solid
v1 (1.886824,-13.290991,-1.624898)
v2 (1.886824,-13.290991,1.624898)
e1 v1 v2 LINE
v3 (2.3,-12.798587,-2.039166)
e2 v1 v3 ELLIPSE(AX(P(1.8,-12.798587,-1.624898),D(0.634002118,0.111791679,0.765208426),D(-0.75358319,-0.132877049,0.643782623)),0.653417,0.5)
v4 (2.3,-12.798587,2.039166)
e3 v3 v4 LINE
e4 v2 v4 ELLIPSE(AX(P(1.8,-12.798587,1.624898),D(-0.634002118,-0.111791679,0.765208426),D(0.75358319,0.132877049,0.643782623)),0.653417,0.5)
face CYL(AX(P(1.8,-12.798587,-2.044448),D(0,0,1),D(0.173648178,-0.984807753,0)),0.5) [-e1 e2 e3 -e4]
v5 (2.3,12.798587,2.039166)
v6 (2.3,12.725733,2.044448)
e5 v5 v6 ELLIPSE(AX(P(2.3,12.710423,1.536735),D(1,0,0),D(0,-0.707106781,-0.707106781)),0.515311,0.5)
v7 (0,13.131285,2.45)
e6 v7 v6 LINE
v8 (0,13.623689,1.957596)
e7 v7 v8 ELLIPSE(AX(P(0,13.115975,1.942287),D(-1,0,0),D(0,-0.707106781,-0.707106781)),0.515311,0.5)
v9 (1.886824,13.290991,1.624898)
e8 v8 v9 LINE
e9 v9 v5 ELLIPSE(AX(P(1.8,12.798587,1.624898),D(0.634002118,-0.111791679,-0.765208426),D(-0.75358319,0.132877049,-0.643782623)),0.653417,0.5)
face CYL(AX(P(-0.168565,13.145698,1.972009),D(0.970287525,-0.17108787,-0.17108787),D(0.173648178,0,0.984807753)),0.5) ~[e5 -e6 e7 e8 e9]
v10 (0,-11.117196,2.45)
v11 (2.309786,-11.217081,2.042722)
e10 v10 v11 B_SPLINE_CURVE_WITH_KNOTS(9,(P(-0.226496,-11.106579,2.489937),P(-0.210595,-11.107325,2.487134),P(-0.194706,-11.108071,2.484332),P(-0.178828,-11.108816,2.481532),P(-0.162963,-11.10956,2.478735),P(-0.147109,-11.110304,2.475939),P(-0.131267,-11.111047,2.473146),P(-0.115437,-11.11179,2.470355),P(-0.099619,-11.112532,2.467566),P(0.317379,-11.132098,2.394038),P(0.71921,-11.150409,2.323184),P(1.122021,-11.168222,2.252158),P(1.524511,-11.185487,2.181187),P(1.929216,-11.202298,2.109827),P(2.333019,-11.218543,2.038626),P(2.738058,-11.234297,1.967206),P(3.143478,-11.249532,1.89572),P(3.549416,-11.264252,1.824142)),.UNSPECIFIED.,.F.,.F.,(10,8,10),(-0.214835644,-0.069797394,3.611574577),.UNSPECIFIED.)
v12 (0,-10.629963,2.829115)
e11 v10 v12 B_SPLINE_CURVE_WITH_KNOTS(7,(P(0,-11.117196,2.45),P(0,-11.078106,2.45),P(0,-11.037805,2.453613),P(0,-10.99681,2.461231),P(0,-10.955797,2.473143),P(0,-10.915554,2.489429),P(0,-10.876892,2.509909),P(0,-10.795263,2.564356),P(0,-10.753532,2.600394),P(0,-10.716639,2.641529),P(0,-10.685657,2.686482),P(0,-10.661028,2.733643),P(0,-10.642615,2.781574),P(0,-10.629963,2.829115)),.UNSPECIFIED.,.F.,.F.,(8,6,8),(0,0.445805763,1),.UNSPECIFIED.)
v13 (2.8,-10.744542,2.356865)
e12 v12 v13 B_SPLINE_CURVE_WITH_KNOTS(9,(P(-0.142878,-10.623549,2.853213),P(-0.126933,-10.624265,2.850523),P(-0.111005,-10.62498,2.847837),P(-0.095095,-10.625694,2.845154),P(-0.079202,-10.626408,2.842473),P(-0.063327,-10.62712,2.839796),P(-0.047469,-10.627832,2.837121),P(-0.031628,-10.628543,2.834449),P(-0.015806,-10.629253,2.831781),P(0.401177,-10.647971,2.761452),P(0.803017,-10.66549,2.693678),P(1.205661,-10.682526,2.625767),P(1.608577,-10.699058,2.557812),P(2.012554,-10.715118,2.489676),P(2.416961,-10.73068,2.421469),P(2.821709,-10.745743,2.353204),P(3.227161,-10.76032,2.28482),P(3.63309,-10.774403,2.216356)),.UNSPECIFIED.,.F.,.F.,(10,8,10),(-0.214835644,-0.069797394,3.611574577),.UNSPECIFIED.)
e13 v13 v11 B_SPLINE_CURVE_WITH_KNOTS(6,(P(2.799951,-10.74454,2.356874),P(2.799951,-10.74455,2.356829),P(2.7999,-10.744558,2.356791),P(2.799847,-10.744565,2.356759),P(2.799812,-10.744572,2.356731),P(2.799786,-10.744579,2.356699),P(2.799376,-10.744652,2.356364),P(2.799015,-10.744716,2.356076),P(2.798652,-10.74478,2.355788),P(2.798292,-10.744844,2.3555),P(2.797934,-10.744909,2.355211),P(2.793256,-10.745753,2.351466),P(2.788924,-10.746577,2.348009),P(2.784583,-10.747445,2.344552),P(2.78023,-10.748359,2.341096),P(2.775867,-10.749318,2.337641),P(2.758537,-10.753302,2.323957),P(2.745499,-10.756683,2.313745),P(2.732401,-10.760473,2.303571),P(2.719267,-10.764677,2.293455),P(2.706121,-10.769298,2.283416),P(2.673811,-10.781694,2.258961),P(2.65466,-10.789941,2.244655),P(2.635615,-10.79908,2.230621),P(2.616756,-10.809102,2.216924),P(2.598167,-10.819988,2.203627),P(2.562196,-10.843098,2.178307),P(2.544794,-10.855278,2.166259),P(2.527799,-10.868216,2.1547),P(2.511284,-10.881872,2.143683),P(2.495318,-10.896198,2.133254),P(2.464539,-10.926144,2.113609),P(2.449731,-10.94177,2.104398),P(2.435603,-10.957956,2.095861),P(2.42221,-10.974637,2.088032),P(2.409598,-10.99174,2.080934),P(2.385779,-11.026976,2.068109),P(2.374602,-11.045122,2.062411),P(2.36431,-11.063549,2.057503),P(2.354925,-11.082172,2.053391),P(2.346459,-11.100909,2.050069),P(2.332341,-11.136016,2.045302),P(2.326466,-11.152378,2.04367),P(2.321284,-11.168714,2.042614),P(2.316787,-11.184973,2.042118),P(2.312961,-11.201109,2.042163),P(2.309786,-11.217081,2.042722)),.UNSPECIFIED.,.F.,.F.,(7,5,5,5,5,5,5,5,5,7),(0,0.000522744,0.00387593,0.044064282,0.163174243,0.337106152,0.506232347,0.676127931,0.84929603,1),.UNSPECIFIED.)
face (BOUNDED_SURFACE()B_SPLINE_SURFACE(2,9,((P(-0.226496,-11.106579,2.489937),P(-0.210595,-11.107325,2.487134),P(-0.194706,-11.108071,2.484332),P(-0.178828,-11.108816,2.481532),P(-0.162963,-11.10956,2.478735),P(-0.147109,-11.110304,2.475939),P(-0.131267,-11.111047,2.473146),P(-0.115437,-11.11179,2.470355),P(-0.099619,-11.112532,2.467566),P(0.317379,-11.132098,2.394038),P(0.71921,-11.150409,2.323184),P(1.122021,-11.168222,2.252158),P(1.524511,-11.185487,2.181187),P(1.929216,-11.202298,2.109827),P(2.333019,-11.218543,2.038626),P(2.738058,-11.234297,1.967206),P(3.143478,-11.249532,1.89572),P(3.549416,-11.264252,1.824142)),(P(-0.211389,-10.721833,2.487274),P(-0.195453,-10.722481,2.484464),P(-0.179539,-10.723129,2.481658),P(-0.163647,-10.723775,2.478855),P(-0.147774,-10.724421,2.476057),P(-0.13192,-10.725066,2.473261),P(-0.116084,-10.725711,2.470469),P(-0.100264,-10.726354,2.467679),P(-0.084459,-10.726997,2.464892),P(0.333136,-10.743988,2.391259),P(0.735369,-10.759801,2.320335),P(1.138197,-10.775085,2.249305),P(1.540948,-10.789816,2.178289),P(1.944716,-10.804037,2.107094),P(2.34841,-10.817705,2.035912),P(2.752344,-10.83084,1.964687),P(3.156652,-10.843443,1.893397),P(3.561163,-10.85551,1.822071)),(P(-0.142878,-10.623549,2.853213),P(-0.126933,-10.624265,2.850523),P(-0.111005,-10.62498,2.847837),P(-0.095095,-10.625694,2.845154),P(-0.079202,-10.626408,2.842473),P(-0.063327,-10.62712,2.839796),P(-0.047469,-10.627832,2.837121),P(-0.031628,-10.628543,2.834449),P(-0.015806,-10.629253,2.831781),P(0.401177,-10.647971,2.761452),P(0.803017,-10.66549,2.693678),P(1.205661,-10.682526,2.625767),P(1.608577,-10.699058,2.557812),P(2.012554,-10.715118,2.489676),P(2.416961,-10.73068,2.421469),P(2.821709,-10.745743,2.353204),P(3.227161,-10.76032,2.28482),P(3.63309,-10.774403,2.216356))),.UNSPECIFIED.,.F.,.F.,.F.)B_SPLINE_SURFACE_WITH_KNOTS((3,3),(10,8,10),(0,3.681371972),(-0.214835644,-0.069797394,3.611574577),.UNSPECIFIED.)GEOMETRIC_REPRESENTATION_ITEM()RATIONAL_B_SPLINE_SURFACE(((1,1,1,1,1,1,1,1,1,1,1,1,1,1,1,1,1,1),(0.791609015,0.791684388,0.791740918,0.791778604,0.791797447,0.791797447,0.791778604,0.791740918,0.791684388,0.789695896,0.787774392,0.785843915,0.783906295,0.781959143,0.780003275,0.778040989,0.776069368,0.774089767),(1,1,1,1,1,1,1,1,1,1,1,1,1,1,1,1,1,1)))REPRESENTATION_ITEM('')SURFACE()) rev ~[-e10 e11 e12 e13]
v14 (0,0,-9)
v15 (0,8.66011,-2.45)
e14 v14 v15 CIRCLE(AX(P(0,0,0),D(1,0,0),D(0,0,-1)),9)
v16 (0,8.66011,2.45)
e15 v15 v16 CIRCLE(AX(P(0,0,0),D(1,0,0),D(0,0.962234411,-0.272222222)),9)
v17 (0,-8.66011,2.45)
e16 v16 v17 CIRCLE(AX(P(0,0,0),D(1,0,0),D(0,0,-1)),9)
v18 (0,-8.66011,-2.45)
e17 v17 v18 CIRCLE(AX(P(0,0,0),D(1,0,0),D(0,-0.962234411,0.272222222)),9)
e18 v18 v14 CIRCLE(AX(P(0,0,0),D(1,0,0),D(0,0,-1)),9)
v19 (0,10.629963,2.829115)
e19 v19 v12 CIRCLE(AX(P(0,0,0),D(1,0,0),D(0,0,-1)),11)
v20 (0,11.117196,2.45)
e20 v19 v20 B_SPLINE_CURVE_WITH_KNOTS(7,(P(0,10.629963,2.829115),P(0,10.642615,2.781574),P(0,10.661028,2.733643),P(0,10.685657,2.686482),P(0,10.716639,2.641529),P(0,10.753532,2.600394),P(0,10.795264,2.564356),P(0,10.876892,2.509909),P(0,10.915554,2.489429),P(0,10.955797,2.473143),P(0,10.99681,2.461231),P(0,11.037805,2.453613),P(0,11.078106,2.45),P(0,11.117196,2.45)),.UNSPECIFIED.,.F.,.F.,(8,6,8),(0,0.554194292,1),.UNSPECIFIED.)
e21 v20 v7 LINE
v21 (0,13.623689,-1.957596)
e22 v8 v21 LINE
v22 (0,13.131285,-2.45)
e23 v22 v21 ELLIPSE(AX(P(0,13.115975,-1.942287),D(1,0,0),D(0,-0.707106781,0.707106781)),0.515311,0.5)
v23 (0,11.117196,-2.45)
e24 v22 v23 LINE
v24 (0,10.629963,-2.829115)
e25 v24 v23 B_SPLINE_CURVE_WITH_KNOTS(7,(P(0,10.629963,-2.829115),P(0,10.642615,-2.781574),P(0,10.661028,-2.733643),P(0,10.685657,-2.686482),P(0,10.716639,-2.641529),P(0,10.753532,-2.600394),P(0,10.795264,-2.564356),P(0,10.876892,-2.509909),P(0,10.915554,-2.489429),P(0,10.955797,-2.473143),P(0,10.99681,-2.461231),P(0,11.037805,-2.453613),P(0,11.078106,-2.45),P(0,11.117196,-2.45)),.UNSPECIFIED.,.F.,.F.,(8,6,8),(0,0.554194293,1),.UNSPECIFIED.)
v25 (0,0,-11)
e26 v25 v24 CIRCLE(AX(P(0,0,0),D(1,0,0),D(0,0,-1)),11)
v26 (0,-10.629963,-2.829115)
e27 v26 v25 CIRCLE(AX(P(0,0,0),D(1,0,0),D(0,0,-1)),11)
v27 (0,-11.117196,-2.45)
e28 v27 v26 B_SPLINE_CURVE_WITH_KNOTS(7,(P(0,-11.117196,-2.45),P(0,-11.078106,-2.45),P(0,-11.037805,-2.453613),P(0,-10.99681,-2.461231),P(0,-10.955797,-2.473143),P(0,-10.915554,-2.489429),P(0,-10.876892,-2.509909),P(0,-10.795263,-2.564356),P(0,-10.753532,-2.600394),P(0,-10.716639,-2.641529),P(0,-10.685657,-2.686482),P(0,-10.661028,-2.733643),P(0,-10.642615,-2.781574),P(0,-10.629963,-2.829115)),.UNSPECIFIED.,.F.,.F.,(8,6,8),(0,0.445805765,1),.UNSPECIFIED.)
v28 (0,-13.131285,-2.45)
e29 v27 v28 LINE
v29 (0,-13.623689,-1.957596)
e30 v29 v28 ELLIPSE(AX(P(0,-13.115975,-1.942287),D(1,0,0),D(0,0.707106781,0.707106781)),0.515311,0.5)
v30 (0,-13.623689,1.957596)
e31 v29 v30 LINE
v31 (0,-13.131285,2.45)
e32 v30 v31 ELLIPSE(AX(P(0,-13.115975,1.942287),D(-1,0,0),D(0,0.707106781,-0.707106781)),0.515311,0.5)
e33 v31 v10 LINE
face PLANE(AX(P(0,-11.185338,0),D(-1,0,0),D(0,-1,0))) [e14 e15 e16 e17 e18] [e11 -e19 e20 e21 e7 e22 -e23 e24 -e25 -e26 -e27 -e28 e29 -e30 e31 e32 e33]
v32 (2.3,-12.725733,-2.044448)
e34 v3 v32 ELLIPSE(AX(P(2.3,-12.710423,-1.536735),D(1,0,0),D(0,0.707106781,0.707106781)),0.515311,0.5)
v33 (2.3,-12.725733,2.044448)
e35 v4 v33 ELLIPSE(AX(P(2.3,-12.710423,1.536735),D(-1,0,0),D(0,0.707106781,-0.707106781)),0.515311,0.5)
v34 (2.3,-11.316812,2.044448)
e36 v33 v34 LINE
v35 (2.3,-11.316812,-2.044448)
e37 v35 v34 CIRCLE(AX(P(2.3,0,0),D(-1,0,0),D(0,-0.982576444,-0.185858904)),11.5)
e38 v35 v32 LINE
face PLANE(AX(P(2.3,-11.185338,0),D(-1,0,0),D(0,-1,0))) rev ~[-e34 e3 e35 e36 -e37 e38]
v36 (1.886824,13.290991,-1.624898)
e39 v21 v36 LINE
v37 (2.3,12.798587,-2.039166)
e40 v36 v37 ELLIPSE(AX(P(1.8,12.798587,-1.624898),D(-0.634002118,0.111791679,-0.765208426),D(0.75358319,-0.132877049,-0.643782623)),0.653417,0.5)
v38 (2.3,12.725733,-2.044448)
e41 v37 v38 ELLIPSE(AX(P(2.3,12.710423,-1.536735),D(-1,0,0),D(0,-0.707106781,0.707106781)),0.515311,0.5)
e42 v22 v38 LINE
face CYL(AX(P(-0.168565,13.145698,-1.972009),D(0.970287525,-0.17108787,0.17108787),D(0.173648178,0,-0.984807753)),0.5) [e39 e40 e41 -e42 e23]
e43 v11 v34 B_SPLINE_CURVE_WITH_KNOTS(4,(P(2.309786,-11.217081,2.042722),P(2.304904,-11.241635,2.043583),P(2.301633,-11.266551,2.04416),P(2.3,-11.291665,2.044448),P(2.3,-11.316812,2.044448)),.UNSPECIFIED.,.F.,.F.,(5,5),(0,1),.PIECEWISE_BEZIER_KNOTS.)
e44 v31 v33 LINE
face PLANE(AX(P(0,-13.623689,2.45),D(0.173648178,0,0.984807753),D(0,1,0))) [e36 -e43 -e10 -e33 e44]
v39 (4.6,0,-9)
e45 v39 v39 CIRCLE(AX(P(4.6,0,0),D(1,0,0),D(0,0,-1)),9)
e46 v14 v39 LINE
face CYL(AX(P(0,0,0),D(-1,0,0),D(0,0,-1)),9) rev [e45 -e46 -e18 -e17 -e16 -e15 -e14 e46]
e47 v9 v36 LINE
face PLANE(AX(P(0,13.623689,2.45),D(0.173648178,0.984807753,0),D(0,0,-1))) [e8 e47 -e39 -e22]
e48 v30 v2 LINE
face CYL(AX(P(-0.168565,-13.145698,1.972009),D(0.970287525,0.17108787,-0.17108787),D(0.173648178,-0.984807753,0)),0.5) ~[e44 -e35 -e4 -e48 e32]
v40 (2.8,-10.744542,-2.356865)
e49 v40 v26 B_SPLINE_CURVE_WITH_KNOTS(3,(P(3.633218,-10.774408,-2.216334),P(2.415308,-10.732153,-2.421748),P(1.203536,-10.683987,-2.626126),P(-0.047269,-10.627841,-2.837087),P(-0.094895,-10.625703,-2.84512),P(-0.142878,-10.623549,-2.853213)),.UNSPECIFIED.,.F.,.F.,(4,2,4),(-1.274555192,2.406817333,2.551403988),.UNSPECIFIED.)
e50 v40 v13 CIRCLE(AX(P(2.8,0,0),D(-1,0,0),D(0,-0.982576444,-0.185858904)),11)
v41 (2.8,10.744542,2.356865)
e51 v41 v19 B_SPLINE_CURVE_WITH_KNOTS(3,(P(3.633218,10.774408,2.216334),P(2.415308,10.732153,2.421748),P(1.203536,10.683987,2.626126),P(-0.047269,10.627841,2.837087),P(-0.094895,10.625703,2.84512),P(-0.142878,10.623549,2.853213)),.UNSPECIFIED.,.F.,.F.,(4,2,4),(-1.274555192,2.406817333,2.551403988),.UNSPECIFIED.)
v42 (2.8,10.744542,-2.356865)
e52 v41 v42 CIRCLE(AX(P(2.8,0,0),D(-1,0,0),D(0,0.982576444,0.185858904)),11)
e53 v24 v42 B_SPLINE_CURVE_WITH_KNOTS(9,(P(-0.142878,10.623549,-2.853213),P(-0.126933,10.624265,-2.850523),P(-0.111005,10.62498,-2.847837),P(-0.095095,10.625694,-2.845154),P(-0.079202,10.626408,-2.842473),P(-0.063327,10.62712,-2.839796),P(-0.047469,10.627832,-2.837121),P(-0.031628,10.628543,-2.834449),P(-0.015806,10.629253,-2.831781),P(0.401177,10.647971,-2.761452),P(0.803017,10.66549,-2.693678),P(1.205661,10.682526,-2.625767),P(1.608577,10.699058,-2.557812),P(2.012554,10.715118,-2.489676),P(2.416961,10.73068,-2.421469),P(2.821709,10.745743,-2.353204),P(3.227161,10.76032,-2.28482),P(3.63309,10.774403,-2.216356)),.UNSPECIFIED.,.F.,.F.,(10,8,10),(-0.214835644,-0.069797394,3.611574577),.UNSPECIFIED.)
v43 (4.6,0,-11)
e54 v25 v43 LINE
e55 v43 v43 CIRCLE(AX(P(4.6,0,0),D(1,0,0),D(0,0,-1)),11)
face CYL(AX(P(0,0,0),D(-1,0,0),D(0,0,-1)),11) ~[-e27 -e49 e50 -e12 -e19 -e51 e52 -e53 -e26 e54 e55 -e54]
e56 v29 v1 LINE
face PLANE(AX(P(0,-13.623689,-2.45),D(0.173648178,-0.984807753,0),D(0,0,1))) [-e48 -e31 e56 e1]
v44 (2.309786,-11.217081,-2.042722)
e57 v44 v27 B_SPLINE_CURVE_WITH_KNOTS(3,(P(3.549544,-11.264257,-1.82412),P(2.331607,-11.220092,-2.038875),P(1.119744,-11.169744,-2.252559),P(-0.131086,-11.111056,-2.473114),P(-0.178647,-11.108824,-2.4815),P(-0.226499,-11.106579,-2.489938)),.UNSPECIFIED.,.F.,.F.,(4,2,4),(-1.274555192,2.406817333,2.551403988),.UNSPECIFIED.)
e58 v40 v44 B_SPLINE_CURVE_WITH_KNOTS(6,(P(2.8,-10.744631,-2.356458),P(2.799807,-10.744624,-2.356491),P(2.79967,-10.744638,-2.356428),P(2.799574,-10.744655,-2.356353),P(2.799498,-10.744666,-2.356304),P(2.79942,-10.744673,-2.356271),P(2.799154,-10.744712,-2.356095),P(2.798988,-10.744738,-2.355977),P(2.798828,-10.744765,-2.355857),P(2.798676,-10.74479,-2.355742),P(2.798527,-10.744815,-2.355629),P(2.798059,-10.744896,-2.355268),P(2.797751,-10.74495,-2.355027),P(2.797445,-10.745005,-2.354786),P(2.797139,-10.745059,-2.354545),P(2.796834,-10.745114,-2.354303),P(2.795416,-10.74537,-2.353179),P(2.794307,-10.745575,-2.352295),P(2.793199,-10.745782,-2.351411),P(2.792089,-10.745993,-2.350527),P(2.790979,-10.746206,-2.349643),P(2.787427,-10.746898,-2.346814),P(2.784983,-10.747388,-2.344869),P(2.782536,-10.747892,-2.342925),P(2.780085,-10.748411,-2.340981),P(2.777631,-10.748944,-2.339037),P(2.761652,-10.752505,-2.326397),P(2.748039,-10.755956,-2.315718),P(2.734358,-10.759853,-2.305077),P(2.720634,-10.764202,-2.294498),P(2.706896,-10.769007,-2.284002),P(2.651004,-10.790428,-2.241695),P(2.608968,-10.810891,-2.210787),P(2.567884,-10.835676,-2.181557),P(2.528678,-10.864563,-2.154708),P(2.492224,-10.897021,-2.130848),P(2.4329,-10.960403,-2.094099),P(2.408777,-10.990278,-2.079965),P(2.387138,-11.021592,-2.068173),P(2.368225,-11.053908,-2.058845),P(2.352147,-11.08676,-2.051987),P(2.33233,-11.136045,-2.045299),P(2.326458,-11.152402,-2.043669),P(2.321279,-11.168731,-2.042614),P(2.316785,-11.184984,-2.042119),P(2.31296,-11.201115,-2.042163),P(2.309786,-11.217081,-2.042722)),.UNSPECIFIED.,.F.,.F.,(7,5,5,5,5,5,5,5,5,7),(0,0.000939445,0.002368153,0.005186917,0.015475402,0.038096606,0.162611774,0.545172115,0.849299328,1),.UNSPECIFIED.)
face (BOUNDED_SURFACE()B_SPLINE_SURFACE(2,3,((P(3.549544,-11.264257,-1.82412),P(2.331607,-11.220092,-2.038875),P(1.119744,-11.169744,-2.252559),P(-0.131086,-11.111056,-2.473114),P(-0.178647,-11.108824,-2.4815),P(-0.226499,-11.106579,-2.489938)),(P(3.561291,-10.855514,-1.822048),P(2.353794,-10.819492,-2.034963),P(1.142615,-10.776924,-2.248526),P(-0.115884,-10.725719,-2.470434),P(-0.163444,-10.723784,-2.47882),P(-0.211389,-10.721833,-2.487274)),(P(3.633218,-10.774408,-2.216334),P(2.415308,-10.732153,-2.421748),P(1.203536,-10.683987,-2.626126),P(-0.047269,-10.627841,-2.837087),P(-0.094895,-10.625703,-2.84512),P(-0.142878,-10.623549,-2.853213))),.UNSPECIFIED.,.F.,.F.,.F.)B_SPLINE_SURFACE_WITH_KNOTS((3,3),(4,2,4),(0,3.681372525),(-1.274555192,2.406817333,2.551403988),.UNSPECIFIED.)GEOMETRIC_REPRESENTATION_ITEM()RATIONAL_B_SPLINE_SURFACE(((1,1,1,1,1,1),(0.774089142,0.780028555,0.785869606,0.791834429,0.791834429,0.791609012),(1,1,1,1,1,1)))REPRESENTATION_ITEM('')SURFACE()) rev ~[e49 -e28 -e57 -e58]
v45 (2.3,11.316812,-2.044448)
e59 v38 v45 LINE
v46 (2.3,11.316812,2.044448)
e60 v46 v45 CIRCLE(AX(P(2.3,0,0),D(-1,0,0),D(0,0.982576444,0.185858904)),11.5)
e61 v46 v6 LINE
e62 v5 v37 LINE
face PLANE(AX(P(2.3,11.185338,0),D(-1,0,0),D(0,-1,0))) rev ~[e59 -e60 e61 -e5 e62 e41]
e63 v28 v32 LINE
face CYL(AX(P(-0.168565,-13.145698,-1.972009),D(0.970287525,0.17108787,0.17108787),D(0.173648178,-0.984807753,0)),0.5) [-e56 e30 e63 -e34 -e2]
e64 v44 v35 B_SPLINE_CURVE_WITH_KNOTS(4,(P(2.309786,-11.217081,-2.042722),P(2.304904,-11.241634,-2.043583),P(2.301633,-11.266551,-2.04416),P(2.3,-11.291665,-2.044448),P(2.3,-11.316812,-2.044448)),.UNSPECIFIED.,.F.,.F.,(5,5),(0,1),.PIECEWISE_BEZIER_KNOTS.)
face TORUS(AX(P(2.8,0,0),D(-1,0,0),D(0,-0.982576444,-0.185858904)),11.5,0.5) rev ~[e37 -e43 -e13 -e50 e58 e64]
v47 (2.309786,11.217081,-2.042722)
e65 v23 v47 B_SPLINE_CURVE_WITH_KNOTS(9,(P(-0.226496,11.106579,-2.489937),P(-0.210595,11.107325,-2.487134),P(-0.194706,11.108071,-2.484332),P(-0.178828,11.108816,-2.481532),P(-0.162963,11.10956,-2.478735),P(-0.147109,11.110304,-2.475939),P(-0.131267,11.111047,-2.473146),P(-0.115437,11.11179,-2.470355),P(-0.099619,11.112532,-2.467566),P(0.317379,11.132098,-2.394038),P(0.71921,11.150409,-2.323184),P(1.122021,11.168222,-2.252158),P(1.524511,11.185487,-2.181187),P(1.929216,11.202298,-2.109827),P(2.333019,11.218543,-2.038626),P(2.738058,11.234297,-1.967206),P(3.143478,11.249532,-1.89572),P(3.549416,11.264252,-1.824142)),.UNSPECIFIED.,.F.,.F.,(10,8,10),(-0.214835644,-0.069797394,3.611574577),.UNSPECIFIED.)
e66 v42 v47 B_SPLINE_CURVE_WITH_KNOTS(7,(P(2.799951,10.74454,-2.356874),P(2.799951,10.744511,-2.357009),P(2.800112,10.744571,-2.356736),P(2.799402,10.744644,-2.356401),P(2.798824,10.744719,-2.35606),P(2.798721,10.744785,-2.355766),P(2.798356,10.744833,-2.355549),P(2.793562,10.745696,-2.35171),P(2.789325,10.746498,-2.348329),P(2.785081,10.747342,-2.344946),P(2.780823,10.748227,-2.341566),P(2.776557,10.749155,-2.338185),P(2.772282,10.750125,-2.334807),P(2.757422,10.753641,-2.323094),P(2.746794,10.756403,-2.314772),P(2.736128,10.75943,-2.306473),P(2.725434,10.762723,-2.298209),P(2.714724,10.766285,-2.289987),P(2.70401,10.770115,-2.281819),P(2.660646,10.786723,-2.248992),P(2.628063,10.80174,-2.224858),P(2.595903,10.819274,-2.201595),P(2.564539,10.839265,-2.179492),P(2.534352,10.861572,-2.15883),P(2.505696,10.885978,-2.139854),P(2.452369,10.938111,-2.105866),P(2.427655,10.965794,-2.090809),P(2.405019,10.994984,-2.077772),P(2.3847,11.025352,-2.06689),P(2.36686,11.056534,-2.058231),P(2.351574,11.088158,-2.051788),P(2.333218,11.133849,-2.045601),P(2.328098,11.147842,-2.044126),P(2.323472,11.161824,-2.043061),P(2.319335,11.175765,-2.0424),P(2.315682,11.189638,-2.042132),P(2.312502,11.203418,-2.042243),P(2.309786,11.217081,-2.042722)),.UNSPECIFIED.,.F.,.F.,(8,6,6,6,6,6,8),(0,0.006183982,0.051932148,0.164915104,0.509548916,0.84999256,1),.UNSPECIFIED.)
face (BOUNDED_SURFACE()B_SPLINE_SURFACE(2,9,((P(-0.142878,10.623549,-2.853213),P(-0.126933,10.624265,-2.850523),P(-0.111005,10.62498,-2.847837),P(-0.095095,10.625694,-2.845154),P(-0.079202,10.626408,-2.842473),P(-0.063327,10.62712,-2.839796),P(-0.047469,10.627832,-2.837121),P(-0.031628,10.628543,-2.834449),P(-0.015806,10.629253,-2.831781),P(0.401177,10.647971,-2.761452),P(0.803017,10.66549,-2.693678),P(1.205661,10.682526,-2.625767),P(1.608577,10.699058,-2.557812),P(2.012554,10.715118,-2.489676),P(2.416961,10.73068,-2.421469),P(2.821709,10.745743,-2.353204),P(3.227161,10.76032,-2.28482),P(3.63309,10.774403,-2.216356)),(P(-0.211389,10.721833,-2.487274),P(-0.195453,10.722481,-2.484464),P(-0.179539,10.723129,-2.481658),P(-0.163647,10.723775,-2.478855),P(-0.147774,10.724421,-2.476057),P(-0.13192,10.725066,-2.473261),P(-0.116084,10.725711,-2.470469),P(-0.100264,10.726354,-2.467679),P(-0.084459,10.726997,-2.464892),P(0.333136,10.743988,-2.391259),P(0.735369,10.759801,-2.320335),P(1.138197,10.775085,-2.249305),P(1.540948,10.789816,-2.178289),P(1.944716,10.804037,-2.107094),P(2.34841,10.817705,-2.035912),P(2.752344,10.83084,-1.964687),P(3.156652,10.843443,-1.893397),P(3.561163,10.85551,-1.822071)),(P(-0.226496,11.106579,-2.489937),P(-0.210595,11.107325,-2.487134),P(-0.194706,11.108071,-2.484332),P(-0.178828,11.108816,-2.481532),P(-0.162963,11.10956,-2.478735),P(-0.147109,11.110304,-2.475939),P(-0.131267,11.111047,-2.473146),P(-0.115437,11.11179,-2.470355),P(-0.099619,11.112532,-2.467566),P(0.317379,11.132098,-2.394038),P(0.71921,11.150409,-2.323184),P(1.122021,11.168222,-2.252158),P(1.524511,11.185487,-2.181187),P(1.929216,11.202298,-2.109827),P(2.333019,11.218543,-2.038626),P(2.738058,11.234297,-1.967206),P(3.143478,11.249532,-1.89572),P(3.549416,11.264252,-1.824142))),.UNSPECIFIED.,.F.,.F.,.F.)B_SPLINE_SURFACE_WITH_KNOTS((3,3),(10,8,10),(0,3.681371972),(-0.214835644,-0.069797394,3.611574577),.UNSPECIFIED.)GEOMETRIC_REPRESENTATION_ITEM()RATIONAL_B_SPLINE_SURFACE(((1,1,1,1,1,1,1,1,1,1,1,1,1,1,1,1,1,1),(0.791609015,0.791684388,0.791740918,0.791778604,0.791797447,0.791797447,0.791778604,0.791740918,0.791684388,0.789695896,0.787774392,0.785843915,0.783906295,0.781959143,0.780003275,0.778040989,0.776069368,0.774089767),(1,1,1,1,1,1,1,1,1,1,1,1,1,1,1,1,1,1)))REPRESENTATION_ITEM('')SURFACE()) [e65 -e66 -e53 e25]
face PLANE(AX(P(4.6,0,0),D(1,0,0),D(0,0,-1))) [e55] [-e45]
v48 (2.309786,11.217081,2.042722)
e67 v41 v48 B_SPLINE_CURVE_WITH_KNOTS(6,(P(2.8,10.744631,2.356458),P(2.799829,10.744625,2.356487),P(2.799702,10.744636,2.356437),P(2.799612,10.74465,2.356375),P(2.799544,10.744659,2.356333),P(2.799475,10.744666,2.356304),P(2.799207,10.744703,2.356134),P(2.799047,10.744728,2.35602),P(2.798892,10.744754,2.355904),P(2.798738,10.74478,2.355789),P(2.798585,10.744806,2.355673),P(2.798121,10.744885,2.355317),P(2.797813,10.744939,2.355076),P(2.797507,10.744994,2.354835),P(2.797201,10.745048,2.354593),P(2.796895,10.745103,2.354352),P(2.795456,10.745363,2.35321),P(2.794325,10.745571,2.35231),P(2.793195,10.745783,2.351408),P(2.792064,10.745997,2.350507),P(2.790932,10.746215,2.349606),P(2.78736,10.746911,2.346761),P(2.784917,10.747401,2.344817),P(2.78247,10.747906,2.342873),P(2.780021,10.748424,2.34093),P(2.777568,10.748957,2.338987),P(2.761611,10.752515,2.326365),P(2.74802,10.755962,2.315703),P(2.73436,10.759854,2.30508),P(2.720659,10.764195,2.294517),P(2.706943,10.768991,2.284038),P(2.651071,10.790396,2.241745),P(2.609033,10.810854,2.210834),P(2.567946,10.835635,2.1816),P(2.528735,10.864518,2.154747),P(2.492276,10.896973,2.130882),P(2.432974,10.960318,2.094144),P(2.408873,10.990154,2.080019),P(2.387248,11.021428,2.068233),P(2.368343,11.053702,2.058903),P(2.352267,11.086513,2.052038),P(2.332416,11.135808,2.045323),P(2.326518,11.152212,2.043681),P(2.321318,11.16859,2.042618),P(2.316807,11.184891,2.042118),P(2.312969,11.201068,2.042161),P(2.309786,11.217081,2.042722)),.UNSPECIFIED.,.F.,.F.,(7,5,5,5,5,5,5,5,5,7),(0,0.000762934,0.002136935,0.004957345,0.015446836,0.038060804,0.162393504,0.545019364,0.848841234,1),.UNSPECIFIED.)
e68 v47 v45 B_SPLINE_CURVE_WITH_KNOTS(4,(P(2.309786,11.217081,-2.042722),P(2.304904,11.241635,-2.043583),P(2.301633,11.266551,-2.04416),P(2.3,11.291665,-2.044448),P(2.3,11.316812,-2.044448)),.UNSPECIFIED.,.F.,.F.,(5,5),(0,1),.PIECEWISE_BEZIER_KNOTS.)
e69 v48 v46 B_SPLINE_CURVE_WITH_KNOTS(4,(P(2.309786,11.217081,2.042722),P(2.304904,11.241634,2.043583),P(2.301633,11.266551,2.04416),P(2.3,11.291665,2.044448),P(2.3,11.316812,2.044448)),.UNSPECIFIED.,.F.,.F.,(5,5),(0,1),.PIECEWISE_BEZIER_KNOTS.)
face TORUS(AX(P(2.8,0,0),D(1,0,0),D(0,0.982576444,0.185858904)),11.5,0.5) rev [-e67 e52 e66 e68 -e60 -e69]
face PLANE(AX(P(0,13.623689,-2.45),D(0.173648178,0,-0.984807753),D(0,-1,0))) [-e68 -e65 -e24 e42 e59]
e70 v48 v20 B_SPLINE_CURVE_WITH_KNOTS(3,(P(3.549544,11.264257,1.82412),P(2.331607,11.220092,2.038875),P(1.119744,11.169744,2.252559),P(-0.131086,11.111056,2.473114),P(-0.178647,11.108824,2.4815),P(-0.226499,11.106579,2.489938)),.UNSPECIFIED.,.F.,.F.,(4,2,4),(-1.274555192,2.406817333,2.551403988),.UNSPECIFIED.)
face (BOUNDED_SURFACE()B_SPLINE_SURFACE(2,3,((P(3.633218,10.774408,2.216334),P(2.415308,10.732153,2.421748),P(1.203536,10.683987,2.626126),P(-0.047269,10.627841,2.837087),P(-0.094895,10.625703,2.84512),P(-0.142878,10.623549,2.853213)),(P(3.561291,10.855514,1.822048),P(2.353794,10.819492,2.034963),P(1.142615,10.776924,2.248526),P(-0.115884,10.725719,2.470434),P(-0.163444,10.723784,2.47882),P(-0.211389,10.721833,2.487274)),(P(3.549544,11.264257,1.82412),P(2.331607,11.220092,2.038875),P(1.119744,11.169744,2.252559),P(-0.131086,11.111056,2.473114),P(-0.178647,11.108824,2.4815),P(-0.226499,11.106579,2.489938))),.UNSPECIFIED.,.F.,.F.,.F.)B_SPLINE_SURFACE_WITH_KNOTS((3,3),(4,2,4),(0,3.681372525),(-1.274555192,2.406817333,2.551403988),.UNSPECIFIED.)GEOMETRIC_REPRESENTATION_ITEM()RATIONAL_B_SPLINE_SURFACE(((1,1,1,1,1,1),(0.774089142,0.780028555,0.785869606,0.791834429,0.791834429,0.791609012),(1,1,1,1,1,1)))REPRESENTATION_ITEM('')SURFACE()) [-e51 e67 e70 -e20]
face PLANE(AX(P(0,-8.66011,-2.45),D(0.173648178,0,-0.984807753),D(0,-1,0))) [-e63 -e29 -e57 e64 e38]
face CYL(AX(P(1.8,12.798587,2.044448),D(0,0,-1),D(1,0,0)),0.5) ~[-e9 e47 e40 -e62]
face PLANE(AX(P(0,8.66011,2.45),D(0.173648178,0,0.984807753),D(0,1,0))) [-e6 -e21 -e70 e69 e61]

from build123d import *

# Parameters (mm, degrees)
SKETCH1_R                     = 11
SKETCH1_R_2                   = 9
BOSS_EXTRUDE1_DEPTH           = 4.6
SKETCH1_3_R                   = 11
SKETCH1_3_R_2                 = 9
BOSS_EXTRUDE2_DEPTH           = 4.6
BOSS_EXTRUDE3_DEPTH           = 2.3
BOSS_EXTRUDE3_DRAFT           = -10
BOSS_EXTRUDE3_PROFILE_2_DEPTH = 2.3
BOSS_EXTRUDE3_PROFILE_2_DRAFT = -10
FILLET1_R                     = 0.5


with BuildPart() as part:
    # Sketch1 → Boss-Extrude1 (new body)
    with BuildSketch(Plane.YZ):
        Circle(SKETCH1_R)
        Circle(SKETCH1_R_2, mode=Mode.SUBTRACT)
    extrude(amount=BOSS_EXTRUDE1_DEPTH)

    # Sketch1<3> → Boss-Extrude2 (add)
    with BuildSketch(Plane.YZ):
        Circle(SKETCH1_3_R)
        Circle(SKETCH1_3_R_2, mode=Mode.SUBTRACT)
    extrude(amount=BOSS_EXTRUDE2_DEPTH)


with BuildPart() as boss_extrude3_tool:
    # Sketch2 → Boss-Extrude3 (with draft: the straight prism first)
    with BuildSketch(Plane(origin=(0, 0, 0), x_dir=(0, -1, 0), z_dir=(-1, 0, 0))):
        with BuildLine():
            Line((-13.623688731, -2.45), (-10.723688731, -2.45))
            Line((-10.723688731, -2.45), (-8.660109699, -2.45))
            ThreePointArc((-8.660109699, -2.45), (-9, 0), (-8.660109699, 2.45))
            Line((-8.660109699, 2.45), (-10.723688731, 2.45))
            Line((-10.723688731, 2.45), (-13.623688731, 2.45))
            Line((-13.623688731, 2.45), (-13.623688731, -2.45))
        make_face()
    extrude(amount=-BOSS_EXTRUDE3_DEPTH)
    # Boss-Extrude3: the draft: its side faces are tilted about the plane it starts from
    boss_extrude3_sides = [boss_extrude3_tool.faces().sort_by_distance(p)[0] for p in [
        (1.15, 11.141899215, -2.45),
        (1.15, 11.141899215, 2.45),
        (1.15, 9, 0),
        (1.15, 13.623688731, 0),
    ]]
    draft(boss_extrude3_sides, Plane(origin=(0, 0, 0), x_dir=(0, -1, 0), z_dir=(-1, 0, 0)), BOSS_EXTRUDE3_DRAFT)


with BuildPart() as part_1:
    add(part.part)

    # Boss-Extrude3: add boss_extrude3_tool
    add(boss_extrude3_tool.part)


with BuildPart() as boss_extrude3_profile_2_tool:
    # Sketch2 → Boss-Extrude3 profile 2 (with draft: the straight prism first)
    with BuildSketch(Plane(origin=(0, 0, 0), x_dir=(0, -1, 0), z_dir=(-1, 0, 0))):
        with BuildLine():
            Line((10.723688731, -2.45), (13.623688731, -2.45))
            Line((13.623688731, -2.45), (13.623688731, 2.45))
            Line((13.623688731, 2.45), (10.723688731, 2.45))
            Line((10.723688731, 2.45), (8.660109699, 2.45))
            ThreePointArc((8.660109699, 2.45), (9, 0), (8.660109699, -2.45))
            Line((8.660109699, -2.45), (10.723688731, -2.45))
        make_face()
    extrude(amount=-BOSS_EXTRUDE3_PROFILE_2_DEPTH)
    # Boss-Extrude3 profile 2: the draft: its side faces are tilted about the plane it starts from
    boss_extrude3_profile_2_sides = [boss_extrude3_profile_2_tool.faces().sort_by_distance(p)[0] for p in [
        (1.15, -11.141899215, -2.45),
        (1.15, -11.141899215, 2.45),
        (1.15, -13.623688731, 0),
        (1.15, -9, 0),
    ]]
    draft(boss_extrude3_profile_2_sides, Plane(origin=(0, 0, 0), x_dir=(0, -1, 0), z_dir=(-1, 0, 0)), BOSS_EXTRUDE3_PROFILE_2_DRAFT)


with BuildPart() as part_2:
    add(part_1.part)

    # Boss-Extrude3 profile 2: add boss_extrude3_profile_2_tool
    add(boss_extrude3_profile_2_tool.part)

    # Fillet1
    fillet1_edges = [part_2.edges().sort_by_distance(p)[0] for p in [
        (1.149928959, -10.768004835, 2.247236499),
        (2.3, -13.218136675, 0),
        (1.15, -13.420912703, 2.247223972),
        (1.15, -13.420912703, -2.247223972),
        (1.149928959, -10.768004835, -2.247236499),
        (2.3, -11, 0),
        (1.15, 13.420912703, 2.247223972),
        (1.15, 13.420912703, -2.247223972),
        (1.149928959, 10.768004835, -2.247236499),
        (1.149928959, 10.768004835, 2.247236499),
        (2.3, 13.218136675, 0),
        (2.3, 10.951980407, -1.026705972),
    ]]
    fillet(fillet1_edges, radius=FILLET1_R)


solid = part_2.part
